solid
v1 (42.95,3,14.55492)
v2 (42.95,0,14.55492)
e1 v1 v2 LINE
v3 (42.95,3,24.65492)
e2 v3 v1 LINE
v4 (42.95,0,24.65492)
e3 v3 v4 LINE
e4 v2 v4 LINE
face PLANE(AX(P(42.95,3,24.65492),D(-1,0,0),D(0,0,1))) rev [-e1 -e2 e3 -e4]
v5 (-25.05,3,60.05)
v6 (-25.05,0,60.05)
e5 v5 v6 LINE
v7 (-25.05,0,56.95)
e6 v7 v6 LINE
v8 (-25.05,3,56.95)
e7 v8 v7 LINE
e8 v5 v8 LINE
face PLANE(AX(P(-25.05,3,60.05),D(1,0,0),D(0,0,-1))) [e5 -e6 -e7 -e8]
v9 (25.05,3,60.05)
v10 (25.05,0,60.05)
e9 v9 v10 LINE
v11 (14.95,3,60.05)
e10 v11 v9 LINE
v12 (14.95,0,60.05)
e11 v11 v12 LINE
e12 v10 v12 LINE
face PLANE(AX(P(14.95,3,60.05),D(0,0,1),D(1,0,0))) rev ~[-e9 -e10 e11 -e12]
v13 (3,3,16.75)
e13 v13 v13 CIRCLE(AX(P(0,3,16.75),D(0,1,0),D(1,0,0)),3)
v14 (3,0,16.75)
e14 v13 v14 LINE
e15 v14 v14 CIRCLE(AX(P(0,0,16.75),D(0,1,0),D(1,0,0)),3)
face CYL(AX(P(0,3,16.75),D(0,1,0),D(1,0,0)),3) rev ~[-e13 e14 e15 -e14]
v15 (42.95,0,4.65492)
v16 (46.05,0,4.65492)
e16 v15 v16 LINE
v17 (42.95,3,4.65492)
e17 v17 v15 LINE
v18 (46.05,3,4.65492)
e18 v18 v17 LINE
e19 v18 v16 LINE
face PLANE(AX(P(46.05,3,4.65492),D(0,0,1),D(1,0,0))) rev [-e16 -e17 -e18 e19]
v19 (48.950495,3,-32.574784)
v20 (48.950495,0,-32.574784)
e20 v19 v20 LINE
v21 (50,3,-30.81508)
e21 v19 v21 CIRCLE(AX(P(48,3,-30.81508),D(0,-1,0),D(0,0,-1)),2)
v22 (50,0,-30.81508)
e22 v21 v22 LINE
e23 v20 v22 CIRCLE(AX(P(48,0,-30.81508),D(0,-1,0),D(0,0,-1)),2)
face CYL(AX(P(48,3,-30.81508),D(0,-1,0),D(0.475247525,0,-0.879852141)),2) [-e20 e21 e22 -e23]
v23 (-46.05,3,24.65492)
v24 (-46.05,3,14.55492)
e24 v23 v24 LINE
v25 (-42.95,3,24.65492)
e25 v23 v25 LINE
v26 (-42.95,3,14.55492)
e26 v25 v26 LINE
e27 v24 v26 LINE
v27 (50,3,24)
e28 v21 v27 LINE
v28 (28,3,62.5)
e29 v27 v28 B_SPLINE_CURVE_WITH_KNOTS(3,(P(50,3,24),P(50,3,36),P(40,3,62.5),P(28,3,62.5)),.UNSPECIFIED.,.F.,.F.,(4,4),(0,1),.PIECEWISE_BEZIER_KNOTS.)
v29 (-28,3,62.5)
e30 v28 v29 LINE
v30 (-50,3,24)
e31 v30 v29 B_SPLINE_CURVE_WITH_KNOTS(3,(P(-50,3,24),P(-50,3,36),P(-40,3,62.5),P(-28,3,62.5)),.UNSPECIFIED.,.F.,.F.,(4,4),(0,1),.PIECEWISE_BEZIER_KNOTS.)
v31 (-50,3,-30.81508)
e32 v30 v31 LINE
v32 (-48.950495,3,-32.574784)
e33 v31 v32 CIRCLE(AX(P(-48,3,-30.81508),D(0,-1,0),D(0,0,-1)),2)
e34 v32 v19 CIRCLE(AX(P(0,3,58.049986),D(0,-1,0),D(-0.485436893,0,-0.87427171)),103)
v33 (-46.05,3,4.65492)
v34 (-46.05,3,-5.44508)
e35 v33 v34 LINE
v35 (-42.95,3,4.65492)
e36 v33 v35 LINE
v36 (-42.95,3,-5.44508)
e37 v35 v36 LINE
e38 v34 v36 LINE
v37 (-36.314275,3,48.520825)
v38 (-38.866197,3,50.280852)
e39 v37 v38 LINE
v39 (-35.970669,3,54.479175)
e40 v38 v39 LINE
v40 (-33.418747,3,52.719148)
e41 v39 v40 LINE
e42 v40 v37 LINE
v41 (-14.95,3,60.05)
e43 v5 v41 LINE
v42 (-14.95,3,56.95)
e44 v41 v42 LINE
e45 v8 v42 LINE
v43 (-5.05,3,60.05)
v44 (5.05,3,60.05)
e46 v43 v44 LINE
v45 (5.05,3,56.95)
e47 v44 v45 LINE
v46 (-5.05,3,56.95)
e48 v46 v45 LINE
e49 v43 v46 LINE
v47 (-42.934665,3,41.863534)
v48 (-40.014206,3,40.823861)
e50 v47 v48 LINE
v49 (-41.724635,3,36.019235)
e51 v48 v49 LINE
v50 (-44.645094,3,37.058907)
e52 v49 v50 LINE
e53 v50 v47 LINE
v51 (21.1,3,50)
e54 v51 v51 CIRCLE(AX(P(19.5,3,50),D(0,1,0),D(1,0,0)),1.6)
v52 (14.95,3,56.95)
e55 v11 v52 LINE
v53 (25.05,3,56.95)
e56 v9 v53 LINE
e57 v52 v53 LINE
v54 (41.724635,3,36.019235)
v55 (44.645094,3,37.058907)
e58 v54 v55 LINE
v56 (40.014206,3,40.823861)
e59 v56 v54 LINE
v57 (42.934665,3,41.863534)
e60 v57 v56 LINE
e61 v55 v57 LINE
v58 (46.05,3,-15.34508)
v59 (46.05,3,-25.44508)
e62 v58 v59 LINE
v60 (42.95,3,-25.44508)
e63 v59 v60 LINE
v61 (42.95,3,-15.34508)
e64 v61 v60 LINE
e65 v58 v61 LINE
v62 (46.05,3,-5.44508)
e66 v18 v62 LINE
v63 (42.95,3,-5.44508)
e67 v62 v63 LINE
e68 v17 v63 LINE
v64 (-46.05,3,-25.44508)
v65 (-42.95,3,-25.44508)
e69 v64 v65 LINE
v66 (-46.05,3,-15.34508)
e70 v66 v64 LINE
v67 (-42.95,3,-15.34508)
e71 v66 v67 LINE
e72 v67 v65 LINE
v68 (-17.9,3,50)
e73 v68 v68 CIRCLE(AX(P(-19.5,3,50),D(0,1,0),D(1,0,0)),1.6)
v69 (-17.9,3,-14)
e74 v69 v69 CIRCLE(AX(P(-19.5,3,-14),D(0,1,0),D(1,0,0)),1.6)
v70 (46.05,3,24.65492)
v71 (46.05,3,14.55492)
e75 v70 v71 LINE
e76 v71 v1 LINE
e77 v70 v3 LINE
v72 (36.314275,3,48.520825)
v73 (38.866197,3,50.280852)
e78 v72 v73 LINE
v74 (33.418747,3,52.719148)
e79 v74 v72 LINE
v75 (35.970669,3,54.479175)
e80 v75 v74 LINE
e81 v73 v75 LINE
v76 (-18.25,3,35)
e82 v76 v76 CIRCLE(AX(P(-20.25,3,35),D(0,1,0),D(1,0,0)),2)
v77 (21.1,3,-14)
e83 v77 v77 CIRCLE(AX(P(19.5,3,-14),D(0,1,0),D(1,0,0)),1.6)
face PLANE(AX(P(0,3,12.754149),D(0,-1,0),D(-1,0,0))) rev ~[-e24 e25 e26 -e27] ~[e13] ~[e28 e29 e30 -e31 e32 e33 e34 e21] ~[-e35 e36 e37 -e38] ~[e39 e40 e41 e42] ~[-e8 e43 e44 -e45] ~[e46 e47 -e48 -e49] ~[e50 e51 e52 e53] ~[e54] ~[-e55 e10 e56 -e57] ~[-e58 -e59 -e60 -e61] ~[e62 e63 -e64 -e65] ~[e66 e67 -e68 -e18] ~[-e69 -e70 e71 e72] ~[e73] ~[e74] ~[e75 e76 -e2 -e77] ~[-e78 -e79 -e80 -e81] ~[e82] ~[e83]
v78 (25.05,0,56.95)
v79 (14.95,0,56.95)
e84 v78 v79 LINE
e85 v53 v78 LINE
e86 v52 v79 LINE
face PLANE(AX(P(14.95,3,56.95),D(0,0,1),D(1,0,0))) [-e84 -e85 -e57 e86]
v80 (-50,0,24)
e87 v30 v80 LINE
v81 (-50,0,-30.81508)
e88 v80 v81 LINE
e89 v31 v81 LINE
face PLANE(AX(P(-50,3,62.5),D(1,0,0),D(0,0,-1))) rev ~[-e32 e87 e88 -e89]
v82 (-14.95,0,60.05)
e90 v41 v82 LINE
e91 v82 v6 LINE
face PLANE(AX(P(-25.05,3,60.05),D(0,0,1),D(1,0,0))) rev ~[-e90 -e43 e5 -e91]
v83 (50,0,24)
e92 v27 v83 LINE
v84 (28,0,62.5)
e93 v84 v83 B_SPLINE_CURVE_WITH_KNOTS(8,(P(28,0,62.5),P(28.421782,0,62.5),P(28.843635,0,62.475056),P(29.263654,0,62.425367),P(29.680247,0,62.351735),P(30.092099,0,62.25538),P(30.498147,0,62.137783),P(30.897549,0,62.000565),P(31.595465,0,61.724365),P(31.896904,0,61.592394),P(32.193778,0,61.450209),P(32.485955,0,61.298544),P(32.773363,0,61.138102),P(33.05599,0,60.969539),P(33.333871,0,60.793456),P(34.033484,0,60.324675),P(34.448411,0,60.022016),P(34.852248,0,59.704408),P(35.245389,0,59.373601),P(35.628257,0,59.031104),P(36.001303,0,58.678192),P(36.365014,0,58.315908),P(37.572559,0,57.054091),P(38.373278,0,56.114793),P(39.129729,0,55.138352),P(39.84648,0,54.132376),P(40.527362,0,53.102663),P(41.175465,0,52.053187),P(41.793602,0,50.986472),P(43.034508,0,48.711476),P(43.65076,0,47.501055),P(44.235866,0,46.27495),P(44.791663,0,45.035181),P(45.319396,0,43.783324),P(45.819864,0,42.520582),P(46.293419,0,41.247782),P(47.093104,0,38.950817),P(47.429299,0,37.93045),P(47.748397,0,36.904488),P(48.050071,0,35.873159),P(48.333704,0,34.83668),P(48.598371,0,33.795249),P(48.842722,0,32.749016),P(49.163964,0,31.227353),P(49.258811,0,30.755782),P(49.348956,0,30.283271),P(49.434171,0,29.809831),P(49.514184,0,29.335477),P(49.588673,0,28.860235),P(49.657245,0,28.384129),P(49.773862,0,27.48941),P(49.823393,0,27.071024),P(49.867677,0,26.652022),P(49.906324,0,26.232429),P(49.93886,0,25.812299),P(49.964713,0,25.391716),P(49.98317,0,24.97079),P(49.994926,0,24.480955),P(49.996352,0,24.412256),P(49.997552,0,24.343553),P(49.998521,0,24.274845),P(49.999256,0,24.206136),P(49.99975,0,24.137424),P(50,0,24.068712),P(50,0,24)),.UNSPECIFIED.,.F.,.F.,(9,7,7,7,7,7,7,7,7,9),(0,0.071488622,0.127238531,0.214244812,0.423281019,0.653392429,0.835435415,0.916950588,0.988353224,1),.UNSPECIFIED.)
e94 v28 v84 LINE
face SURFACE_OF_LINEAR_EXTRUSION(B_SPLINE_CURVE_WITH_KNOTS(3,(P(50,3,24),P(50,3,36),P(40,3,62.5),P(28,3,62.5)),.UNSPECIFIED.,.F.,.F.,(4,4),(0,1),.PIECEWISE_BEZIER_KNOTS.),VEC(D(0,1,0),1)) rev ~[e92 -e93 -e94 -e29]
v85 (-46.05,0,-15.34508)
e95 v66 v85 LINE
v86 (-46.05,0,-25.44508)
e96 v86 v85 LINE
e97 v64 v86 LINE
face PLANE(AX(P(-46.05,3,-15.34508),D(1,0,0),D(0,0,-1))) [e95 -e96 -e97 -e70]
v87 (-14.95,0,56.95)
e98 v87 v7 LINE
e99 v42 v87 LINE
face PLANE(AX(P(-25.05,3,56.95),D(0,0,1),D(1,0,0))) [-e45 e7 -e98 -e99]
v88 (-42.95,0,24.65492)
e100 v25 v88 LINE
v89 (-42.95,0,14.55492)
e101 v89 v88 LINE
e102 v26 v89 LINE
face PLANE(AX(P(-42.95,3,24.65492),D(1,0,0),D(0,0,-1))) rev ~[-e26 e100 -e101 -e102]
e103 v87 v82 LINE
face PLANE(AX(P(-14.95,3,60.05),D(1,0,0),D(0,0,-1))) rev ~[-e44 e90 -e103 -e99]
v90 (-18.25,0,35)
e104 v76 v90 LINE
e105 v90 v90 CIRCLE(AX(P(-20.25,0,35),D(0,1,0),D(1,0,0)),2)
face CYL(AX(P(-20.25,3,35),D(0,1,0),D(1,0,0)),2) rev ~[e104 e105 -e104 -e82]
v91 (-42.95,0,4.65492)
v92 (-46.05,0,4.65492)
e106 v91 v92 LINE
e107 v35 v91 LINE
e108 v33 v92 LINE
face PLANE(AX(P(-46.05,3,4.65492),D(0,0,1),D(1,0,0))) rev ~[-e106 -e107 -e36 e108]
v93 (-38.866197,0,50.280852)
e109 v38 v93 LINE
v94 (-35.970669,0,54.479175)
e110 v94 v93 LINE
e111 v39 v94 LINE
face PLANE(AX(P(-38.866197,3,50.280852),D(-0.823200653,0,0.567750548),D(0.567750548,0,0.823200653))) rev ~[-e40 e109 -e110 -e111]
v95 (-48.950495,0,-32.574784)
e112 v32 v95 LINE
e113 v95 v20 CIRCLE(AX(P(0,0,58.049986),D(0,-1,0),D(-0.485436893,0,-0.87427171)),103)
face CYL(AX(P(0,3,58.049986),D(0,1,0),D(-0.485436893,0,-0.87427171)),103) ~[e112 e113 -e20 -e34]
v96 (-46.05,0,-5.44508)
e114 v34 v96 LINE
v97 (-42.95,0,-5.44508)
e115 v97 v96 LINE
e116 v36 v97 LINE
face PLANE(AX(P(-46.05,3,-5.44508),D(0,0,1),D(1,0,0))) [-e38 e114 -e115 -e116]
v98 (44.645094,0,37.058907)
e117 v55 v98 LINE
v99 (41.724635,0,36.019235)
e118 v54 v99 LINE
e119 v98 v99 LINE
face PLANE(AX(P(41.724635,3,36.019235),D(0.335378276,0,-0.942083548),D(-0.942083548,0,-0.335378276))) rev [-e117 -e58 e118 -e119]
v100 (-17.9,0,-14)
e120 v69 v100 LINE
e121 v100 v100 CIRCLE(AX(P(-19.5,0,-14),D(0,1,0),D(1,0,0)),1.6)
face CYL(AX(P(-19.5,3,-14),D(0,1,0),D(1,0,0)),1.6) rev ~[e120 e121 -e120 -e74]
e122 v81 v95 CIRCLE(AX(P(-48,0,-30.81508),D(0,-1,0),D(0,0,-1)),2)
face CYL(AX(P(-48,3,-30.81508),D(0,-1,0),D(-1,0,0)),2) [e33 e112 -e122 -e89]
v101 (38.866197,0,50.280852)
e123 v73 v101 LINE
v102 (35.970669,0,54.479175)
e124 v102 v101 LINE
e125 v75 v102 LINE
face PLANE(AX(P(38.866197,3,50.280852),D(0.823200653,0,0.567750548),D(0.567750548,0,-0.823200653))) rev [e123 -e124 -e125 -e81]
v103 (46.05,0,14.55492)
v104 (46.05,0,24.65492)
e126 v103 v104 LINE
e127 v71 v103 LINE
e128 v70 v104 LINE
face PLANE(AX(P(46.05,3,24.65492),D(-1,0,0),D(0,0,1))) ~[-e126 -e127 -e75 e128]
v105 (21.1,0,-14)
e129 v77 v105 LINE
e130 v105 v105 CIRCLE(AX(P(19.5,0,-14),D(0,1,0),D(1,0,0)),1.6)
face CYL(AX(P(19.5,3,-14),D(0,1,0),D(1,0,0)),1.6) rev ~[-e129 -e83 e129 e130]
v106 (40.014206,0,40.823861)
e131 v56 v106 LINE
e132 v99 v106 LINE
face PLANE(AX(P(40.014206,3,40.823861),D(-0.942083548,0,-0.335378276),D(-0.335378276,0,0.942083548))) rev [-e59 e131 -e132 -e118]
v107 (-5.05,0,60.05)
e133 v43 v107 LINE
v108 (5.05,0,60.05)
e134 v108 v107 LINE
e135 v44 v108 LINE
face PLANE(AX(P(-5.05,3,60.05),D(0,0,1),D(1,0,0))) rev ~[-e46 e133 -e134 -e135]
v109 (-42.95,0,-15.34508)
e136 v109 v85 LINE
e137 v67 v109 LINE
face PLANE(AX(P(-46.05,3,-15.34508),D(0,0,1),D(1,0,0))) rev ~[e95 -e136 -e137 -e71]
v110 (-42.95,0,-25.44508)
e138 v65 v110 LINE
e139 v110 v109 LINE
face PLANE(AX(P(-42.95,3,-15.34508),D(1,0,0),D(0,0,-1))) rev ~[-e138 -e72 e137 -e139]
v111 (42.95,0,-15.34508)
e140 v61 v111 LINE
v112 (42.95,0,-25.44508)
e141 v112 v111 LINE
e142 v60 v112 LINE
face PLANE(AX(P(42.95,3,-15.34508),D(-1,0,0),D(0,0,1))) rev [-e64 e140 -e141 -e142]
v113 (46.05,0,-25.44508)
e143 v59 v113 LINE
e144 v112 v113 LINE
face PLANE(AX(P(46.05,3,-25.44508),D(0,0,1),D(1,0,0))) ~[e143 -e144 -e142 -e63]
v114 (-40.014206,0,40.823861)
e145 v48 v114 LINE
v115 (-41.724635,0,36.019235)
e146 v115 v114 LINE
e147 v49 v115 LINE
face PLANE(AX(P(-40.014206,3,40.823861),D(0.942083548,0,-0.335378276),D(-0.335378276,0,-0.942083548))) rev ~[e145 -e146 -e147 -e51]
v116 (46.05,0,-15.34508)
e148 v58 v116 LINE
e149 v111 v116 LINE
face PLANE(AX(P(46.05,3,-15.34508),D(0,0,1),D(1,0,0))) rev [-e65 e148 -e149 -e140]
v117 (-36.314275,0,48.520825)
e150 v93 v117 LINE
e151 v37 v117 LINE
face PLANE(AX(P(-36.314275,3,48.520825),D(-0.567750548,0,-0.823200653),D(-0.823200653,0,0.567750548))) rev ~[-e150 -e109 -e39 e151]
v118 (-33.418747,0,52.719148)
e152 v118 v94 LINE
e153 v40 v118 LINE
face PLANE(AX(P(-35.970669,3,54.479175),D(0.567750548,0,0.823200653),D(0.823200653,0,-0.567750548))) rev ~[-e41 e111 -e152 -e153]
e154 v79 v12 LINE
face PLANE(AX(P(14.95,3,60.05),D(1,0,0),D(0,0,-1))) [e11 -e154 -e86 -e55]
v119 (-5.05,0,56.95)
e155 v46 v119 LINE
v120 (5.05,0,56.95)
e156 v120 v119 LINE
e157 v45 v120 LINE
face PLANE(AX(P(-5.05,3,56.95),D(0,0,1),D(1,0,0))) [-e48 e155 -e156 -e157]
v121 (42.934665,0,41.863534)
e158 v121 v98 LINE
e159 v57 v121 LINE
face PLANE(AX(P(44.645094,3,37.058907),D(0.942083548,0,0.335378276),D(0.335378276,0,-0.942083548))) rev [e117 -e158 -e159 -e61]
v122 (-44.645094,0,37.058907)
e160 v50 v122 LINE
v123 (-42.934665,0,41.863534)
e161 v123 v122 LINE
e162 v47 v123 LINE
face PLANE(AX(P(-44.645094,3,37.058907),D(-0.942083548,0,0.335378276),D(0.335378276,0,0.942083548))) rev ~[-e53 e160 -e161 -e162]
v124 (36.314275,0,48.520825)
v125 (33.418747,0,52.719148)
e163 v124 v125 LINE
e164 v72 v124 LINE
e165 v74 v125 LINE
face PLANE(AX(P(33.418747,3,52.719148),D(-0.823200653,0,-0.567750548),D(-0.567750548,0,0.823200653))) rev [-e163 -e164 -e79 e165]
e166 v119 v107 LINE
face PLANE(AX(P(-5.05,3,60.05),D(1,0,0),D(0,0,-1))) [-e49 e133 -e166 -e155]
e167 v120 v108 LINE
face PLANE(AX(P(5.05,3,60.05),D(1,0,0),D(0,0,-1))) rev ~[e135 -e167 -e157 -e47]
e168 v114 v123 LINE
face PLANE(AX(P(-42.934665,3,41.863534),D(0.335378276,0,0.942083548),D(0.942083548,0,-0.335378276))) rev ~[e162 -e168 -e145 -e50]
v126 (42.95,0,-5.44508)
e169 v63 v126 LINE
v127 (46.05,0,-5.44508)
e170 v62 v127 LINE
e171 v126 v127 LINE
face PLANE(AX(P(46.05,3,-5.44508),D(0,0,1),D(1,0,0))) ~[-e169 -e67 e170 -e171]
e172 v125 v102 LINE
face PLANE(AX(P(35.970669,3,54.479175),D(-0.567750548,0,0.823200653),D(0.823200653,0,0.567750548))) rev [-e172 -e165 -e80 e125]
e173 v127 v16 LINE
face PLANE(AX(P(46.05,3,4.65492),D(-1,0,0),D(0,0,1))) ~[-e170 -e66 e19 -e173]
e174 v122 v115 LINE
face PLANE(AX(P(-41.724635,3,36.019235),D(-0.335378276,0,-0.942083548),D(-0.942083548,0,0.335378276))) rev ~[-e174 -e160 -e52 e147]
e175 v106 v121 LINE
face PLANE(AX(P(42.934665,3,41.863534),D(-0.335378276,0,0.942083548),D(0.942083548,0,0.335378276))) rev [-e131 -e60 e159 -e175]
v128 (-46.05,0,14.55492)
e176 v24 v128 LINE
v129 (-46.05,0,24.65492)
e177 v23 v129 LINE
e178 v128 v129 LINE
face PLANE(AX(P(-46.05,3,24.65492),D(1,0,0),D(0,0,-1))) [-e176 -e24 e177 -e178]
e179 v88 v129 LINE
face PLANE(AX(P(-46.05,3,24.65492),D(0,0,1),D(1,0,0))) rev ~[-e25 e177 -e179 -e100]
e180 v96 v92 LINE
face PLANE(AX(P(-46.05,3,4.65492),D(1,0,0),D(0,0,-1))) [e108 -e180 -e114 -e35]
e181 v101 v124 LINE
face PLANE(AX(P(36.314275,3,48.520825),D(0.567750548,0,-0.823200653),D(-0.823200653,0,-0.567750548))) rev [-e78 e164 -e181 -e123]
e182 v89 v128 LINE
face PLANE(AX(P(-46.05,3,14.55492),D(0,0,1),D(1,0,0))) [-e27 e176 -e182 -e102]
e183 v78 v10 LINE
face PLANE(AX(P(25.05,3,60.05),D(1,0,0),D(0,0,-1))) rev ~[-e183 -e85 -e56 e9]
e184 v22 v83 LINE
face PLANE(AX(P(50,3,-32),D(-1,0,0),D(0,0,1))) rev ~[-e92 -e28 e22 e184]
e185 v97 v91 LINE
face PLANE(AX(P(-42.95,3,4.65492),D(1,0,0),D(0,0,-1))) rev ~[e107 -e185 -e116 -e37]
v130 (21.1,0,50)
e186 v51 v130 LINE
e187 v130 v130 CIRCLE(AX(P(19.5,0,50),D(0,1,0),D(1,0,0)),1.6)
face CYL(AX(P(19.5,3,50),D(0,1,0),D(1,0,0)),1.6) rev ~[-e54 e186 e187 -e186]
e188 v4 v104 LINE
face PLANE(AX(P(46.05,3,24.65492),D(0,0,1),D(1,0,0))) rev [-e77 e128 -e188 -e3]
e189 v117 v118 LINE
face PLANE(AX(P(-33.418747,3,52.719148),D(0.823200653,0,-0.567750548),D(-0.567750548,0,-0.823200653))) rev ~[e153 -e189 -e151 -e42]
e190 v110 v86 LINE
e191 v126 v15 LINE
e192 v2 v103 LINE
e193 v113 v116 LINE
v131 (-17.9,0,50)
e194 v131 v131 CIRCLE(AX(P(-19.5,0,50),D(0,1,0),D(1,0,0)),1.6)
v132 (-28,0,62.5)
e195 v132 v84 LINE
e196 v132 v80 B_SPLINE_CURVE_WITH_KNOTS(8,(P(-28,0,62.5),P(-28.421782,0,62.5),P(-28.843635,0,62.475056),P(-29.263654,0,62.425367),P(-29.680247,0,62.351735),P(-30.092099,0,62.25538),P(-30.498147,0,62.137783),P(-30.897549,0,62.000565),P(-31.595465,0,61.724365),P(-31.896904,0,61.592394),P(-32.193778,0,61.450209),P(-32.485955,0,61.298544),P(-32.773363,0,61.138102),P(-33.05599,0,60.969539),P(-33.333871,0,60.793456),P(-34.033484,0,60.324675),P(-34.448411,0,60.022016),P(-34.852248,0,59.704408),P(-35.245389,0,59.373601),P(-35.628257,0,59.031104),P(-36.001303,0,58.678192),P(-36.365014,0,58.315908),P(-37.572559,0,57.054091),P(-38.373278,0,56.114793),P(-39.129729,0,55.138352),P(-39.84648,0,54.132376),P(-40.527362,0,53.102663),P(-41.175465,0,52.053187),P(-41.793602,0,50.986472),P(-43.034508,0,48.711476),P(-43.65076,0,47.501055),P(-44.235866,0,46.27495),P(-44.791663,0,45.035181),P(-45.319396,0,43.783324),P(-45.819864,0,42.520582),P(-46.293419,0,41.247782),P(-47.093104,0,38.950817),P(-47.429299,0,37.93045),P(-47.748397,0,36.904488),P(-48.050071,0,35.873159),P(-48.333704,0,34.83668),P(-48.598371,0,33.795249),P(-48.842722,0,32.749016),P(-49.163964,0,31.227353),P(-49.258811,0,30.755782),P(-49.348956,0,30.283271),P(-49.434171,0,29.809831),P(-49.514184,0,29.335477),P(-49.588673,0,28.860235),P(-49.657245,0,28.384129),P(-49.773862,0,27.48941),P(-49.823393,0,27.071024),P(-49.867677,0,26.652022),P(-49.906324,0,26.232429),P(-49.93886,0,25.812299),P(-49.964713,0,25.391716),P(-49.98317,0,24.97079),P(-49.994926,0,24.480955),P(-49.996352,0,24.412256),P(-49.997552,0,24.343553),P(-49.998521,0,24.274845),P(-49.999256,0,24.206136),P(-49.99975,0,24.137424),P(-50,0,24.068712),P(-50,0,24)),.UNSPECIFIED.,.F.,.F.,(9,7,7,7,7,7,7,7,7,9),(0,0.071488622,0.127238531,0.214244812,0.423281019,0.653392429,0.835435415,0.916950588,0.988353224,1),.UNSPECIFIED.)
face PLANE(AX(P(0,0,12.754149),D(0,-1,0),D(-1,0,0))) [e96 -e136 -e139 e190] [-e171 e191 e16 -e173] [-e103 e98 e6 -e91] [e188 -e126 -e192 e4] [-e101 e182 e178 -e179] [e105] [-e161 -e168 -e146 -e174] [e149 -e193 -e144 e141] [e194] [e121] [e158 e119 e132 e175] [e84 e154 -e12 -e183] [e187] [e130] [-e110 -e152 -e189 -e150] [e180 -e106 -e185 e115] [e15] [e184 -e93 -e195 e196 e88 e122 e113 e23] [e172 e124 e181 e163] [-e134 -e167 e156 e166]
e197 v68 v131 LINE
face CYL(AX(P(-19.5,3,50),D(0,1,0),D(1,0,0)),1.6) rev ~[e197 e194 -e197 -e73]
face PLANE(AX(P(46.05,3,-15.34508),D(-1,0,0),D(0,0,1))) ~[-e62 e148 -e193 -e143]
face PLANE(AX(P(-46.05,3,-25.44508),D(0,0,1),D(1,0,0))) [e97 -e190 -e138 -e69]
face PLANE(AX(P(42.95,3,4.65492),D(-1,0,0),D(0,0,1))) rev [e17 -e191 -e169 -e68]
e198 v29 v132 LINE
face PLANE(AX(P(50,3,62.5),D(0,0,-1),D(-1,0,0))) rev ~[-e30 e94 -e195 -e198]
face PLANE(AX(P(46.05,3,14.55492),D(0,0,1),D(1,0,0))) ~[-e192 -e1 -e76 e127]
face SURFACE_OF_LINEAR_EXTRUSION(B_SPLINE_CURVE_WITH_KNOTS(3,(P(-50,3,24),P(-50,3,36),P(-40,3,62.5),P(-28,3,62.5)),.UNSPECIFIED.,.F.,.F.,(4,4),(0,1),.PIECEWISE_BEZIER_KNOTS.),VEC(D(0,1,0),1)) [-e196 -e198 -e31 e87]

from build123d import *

# Parameters (mm, degrees)
CROQUIS1_W              = 61
CROQUIS1_H              = 100
SALIENTE_EXTRUIR1_DEPTH = 3
SALIENTE_EXTRUIR4_DEPTH = 3
CROQUIS19_W             = 61
CROQUIS19_H             = 5.5
CORTAR_EXTRUIR11_DEPTH  = 10
CORTAR_EXTRUIR7_DEPTH   = 4
REDONDEO3_R             = 2
CROQUIS15_R             = 1.6
CORTAR_EXTRUIR8_DEPTH   = 4.0000001
CROQUIS16_R             = 3
CORTAR_EXTRUIR9_DEPTH   = 4.0000001
CROQUIS17_W             = 3.1
CROQUIS17_H             = 10.1
CORTAR_EXTRUIR10_DEPTH  = 10
CORTAR_EXTRUIR13_DEPTH  = 4.0000001
CROQUIS20_W             = 10.1
CROQUIS20_H             = 3.1
CORTAR_EXTRUIR12_DEPTH  = 10
CROQUIS22_R             = 2
CORTAR_EXTRUIR14_DEPTH  = 10


with BuildPart() as part:
    # Croquis1 → Saliente-Extruir1 (new body)
    with BuildSketch(Plane(origin=(0, 0, 0), x_dir=(1, 0, 0), z_dir=(0, 1, 0))):
        with Locations((0, -18)):
            Rectangle(CROQUIS1_W, CROQUIS1_H)
    extrude(amount=SALIENTE_EXTRUIR1_DEPTH)

    # Croquis7 → Saliente-Extruir4 (add, through all)
    with BuildSketch(Plane(origin=(0, 3, 0), x_dir=(1, 0, 0), z_dir=(0, 1, 0))):
        with BuildLine():
            Line((-50, -62.5), (-50, 32))
            ThreePointArc((-50, 32), (0, 44.950013881), (50, 32))
            Line((50, 32), (50, -62.5))
            Line((50, -62.5), (-50, -62.5))
        make_face()
    extrude(amount=-SALIENTE_EXTRUIR4_DEPTH)

    # Croquis19 → Cortar-Extruir11 (cut)
    with BuildSketch(Plane(origin=(0, 3, 0), x_dir=(1, 0, 0), z_dir=(0, 1, 0))):
        with Locations((0, -65.25)):
            Rectangle(CROQUIS19_W, CROQUIS19_H)
    extrude(amount=-CORTAR_EXTRUIR11_DEPTH, mode=Mode.SUBTRACT)

    # Croquis14 → Cortar-Extruir7 (cut, through all)
    with BuildSketch(Plane(origin=(0, 3, 0), x_dir=(1, 0, 0), z_dir=(0, 1, 0))):
        with BuildLine():
            Line((-50, -24), (-50, -62.5))
            Line((-50, -62.5), (-28, -62.5))
            add(Edge.make_bspline(
                [(-50, -24), (-50, -36), (-40, -62.5), (-28, -62.5)],
                knots=[0, 0, 0, 0, 1, 1, 1, 1], degree=3))
        make_face()
    cortar_extruir7 = extrude(amount=-CORTAR_EXTRUIR7_DEPTH, mode=Mode.SUBTRACT)

    # Redondeo3
    redondeo3_edges = [part.edges().sort_by_distance(p)[0] for p in [
        (-50, 1.5, -32),
        (50, 1.5, -32),
    ]]
    fillet(redondeo3_edges, radius=REDONDEO3_R)

    # Croquis15 → Cortar-Extruir8 (cut, through all)
    with BuildSketch(Plane(origin=(0, 3, 0), x_dir=(1, 0, 0), z_dir=(0, 1, 0))):
        with Locations((-19.5, 14)):
            Circle(CROQUIS15_R)
        with Locations((19.5, 14)):
            Circle(CROQUIS15_R)
        with Locations((-19.5, -50)):
            Circle(CROQUIS15_R)
        with Locations((19.5, -50)):
            Circle(CROQUIS15_R)
    extrude(amount=-CORTAR_EXTRUIR8_DEPTH, mode=Mode.SUBTRACT)

    # Croquis16 → Cortar-Extruir9 (cut, through all)
    with BuildSketch(Plane(origin=(0, 3, 0), x_dir=(1, 0, 0), z_dir=(0, 1, 0))):
        with Locations((0, -16.75)):
            Circle(CROQUIS16_R)
    extrude(amount=-CORTAR_EXTRUIR9_DEPTH, mode=Mode.SUBTRACT)

    # Croquis17 → Cortar-Extruir10 (cut)
    with BuildSketch(Plane(origin=(0, 3, 0), x_dir=(1, 0, 0), z_dir=(0, 1, 0))):
        with Locations((-44.5, 20.395080133)):
            Rectangle(CROQUIS17_W, CROQUIS17_H)
        with Locations((-44.5, 0.395080133)):
            Rectangle(CROQUIS17_W, CROQUIS17_H)
        with Locations((-44.5, -19.604919867)):
            Rectangle(CROQUIS17_W, CROQUIS17_H)
    cortar_extruir10 = extrude(amount=-CORTAR_EXTRUIR10_DEPTH, mode=Mode.SUBTRACT)

    # Croquis21 → Cortar-Extruir13 (cut, through all)
    with BuildSketch(Plane(origin=(0, 3, 0), x_dir=(1, 0, 0), z_dir=(0, 1, 0))):
        Polygon((-44.645093952, -37.058907452), (-42.934664747, -41.863533549), (-40.014205747, -40.823860895), (-41.724634952, -36.019234798), align=None)
        Polygon((-38.866197007, -50.280851683), (-35.970669214, -54.479175015), (-33.418747189, -52.719148317), (-36.314274981, -48.520824985), align=None)
    cortar_extruir13 = extrude(amount=-CORTAR_EXTRUIR13_DEPTH, mode=Mode.SUBTRACT)

    # Simetría1: Cortar-Extruir7, Cortar-Extruir10, Cortar-Extruir13 across plane
    add(cortar_extruir7.mirror(Plane(origin=(0, 0, 0), x_dir=(0, 0, 1), z_dir=(1, 0, 0))), mode=Mode.SUBTRACT)
    add(cortar_extruir10.mirror(Plane(origin=(0, 0, 0), x_dir=(0, 0, 1), z_dir=(1, 0, 0))), mode=Mode.SUBTRACT)
    add(cortar_extruir13.mirror(Plane(origin=(0, 0, 0), x_dir=(0, 0, 1), z_dir=(1, 0, 0))), mode=Mode.SUBTRACT)

    # Croquis20 → Cortar-Extruir12 (cut)
    with BuildSketch(Plane(origin=(0, 3, 0), x_dir=(1, 0, 0), z_dir=(0, 1, 0))):
        with Locations((0, -58.5)):
            Rectangle(CROQUIS20_W, CROQUIS20_H)
        with Locations((20, -58.5)):
            Rectangle(CROQUIS20_W, CROQUIS20_H)
        with Locations((-20, -58.5)):
            Rectangle(CROQUIS20_W, CROQUIS20_H)
    extrude(amount=-CORTAR_EXTRUIR12_DEPTH, mode=Mode.SUBTRACT)

    # Croquis22 → Cortar-Extruir14 (cut)
    with BuildSketch(Plane(origin=(0, 3, 0), x_dir=(1, 0, 0), z_dir=(0, 1, 0))):
        with Locations((-20.25, -35)):
            Circle(CROQUIS22_R)
    extrude(amount=-CORTAR_EXTRUIR14_DEPTH, mode=Mode.SUBTRACT)


solid = part.part
